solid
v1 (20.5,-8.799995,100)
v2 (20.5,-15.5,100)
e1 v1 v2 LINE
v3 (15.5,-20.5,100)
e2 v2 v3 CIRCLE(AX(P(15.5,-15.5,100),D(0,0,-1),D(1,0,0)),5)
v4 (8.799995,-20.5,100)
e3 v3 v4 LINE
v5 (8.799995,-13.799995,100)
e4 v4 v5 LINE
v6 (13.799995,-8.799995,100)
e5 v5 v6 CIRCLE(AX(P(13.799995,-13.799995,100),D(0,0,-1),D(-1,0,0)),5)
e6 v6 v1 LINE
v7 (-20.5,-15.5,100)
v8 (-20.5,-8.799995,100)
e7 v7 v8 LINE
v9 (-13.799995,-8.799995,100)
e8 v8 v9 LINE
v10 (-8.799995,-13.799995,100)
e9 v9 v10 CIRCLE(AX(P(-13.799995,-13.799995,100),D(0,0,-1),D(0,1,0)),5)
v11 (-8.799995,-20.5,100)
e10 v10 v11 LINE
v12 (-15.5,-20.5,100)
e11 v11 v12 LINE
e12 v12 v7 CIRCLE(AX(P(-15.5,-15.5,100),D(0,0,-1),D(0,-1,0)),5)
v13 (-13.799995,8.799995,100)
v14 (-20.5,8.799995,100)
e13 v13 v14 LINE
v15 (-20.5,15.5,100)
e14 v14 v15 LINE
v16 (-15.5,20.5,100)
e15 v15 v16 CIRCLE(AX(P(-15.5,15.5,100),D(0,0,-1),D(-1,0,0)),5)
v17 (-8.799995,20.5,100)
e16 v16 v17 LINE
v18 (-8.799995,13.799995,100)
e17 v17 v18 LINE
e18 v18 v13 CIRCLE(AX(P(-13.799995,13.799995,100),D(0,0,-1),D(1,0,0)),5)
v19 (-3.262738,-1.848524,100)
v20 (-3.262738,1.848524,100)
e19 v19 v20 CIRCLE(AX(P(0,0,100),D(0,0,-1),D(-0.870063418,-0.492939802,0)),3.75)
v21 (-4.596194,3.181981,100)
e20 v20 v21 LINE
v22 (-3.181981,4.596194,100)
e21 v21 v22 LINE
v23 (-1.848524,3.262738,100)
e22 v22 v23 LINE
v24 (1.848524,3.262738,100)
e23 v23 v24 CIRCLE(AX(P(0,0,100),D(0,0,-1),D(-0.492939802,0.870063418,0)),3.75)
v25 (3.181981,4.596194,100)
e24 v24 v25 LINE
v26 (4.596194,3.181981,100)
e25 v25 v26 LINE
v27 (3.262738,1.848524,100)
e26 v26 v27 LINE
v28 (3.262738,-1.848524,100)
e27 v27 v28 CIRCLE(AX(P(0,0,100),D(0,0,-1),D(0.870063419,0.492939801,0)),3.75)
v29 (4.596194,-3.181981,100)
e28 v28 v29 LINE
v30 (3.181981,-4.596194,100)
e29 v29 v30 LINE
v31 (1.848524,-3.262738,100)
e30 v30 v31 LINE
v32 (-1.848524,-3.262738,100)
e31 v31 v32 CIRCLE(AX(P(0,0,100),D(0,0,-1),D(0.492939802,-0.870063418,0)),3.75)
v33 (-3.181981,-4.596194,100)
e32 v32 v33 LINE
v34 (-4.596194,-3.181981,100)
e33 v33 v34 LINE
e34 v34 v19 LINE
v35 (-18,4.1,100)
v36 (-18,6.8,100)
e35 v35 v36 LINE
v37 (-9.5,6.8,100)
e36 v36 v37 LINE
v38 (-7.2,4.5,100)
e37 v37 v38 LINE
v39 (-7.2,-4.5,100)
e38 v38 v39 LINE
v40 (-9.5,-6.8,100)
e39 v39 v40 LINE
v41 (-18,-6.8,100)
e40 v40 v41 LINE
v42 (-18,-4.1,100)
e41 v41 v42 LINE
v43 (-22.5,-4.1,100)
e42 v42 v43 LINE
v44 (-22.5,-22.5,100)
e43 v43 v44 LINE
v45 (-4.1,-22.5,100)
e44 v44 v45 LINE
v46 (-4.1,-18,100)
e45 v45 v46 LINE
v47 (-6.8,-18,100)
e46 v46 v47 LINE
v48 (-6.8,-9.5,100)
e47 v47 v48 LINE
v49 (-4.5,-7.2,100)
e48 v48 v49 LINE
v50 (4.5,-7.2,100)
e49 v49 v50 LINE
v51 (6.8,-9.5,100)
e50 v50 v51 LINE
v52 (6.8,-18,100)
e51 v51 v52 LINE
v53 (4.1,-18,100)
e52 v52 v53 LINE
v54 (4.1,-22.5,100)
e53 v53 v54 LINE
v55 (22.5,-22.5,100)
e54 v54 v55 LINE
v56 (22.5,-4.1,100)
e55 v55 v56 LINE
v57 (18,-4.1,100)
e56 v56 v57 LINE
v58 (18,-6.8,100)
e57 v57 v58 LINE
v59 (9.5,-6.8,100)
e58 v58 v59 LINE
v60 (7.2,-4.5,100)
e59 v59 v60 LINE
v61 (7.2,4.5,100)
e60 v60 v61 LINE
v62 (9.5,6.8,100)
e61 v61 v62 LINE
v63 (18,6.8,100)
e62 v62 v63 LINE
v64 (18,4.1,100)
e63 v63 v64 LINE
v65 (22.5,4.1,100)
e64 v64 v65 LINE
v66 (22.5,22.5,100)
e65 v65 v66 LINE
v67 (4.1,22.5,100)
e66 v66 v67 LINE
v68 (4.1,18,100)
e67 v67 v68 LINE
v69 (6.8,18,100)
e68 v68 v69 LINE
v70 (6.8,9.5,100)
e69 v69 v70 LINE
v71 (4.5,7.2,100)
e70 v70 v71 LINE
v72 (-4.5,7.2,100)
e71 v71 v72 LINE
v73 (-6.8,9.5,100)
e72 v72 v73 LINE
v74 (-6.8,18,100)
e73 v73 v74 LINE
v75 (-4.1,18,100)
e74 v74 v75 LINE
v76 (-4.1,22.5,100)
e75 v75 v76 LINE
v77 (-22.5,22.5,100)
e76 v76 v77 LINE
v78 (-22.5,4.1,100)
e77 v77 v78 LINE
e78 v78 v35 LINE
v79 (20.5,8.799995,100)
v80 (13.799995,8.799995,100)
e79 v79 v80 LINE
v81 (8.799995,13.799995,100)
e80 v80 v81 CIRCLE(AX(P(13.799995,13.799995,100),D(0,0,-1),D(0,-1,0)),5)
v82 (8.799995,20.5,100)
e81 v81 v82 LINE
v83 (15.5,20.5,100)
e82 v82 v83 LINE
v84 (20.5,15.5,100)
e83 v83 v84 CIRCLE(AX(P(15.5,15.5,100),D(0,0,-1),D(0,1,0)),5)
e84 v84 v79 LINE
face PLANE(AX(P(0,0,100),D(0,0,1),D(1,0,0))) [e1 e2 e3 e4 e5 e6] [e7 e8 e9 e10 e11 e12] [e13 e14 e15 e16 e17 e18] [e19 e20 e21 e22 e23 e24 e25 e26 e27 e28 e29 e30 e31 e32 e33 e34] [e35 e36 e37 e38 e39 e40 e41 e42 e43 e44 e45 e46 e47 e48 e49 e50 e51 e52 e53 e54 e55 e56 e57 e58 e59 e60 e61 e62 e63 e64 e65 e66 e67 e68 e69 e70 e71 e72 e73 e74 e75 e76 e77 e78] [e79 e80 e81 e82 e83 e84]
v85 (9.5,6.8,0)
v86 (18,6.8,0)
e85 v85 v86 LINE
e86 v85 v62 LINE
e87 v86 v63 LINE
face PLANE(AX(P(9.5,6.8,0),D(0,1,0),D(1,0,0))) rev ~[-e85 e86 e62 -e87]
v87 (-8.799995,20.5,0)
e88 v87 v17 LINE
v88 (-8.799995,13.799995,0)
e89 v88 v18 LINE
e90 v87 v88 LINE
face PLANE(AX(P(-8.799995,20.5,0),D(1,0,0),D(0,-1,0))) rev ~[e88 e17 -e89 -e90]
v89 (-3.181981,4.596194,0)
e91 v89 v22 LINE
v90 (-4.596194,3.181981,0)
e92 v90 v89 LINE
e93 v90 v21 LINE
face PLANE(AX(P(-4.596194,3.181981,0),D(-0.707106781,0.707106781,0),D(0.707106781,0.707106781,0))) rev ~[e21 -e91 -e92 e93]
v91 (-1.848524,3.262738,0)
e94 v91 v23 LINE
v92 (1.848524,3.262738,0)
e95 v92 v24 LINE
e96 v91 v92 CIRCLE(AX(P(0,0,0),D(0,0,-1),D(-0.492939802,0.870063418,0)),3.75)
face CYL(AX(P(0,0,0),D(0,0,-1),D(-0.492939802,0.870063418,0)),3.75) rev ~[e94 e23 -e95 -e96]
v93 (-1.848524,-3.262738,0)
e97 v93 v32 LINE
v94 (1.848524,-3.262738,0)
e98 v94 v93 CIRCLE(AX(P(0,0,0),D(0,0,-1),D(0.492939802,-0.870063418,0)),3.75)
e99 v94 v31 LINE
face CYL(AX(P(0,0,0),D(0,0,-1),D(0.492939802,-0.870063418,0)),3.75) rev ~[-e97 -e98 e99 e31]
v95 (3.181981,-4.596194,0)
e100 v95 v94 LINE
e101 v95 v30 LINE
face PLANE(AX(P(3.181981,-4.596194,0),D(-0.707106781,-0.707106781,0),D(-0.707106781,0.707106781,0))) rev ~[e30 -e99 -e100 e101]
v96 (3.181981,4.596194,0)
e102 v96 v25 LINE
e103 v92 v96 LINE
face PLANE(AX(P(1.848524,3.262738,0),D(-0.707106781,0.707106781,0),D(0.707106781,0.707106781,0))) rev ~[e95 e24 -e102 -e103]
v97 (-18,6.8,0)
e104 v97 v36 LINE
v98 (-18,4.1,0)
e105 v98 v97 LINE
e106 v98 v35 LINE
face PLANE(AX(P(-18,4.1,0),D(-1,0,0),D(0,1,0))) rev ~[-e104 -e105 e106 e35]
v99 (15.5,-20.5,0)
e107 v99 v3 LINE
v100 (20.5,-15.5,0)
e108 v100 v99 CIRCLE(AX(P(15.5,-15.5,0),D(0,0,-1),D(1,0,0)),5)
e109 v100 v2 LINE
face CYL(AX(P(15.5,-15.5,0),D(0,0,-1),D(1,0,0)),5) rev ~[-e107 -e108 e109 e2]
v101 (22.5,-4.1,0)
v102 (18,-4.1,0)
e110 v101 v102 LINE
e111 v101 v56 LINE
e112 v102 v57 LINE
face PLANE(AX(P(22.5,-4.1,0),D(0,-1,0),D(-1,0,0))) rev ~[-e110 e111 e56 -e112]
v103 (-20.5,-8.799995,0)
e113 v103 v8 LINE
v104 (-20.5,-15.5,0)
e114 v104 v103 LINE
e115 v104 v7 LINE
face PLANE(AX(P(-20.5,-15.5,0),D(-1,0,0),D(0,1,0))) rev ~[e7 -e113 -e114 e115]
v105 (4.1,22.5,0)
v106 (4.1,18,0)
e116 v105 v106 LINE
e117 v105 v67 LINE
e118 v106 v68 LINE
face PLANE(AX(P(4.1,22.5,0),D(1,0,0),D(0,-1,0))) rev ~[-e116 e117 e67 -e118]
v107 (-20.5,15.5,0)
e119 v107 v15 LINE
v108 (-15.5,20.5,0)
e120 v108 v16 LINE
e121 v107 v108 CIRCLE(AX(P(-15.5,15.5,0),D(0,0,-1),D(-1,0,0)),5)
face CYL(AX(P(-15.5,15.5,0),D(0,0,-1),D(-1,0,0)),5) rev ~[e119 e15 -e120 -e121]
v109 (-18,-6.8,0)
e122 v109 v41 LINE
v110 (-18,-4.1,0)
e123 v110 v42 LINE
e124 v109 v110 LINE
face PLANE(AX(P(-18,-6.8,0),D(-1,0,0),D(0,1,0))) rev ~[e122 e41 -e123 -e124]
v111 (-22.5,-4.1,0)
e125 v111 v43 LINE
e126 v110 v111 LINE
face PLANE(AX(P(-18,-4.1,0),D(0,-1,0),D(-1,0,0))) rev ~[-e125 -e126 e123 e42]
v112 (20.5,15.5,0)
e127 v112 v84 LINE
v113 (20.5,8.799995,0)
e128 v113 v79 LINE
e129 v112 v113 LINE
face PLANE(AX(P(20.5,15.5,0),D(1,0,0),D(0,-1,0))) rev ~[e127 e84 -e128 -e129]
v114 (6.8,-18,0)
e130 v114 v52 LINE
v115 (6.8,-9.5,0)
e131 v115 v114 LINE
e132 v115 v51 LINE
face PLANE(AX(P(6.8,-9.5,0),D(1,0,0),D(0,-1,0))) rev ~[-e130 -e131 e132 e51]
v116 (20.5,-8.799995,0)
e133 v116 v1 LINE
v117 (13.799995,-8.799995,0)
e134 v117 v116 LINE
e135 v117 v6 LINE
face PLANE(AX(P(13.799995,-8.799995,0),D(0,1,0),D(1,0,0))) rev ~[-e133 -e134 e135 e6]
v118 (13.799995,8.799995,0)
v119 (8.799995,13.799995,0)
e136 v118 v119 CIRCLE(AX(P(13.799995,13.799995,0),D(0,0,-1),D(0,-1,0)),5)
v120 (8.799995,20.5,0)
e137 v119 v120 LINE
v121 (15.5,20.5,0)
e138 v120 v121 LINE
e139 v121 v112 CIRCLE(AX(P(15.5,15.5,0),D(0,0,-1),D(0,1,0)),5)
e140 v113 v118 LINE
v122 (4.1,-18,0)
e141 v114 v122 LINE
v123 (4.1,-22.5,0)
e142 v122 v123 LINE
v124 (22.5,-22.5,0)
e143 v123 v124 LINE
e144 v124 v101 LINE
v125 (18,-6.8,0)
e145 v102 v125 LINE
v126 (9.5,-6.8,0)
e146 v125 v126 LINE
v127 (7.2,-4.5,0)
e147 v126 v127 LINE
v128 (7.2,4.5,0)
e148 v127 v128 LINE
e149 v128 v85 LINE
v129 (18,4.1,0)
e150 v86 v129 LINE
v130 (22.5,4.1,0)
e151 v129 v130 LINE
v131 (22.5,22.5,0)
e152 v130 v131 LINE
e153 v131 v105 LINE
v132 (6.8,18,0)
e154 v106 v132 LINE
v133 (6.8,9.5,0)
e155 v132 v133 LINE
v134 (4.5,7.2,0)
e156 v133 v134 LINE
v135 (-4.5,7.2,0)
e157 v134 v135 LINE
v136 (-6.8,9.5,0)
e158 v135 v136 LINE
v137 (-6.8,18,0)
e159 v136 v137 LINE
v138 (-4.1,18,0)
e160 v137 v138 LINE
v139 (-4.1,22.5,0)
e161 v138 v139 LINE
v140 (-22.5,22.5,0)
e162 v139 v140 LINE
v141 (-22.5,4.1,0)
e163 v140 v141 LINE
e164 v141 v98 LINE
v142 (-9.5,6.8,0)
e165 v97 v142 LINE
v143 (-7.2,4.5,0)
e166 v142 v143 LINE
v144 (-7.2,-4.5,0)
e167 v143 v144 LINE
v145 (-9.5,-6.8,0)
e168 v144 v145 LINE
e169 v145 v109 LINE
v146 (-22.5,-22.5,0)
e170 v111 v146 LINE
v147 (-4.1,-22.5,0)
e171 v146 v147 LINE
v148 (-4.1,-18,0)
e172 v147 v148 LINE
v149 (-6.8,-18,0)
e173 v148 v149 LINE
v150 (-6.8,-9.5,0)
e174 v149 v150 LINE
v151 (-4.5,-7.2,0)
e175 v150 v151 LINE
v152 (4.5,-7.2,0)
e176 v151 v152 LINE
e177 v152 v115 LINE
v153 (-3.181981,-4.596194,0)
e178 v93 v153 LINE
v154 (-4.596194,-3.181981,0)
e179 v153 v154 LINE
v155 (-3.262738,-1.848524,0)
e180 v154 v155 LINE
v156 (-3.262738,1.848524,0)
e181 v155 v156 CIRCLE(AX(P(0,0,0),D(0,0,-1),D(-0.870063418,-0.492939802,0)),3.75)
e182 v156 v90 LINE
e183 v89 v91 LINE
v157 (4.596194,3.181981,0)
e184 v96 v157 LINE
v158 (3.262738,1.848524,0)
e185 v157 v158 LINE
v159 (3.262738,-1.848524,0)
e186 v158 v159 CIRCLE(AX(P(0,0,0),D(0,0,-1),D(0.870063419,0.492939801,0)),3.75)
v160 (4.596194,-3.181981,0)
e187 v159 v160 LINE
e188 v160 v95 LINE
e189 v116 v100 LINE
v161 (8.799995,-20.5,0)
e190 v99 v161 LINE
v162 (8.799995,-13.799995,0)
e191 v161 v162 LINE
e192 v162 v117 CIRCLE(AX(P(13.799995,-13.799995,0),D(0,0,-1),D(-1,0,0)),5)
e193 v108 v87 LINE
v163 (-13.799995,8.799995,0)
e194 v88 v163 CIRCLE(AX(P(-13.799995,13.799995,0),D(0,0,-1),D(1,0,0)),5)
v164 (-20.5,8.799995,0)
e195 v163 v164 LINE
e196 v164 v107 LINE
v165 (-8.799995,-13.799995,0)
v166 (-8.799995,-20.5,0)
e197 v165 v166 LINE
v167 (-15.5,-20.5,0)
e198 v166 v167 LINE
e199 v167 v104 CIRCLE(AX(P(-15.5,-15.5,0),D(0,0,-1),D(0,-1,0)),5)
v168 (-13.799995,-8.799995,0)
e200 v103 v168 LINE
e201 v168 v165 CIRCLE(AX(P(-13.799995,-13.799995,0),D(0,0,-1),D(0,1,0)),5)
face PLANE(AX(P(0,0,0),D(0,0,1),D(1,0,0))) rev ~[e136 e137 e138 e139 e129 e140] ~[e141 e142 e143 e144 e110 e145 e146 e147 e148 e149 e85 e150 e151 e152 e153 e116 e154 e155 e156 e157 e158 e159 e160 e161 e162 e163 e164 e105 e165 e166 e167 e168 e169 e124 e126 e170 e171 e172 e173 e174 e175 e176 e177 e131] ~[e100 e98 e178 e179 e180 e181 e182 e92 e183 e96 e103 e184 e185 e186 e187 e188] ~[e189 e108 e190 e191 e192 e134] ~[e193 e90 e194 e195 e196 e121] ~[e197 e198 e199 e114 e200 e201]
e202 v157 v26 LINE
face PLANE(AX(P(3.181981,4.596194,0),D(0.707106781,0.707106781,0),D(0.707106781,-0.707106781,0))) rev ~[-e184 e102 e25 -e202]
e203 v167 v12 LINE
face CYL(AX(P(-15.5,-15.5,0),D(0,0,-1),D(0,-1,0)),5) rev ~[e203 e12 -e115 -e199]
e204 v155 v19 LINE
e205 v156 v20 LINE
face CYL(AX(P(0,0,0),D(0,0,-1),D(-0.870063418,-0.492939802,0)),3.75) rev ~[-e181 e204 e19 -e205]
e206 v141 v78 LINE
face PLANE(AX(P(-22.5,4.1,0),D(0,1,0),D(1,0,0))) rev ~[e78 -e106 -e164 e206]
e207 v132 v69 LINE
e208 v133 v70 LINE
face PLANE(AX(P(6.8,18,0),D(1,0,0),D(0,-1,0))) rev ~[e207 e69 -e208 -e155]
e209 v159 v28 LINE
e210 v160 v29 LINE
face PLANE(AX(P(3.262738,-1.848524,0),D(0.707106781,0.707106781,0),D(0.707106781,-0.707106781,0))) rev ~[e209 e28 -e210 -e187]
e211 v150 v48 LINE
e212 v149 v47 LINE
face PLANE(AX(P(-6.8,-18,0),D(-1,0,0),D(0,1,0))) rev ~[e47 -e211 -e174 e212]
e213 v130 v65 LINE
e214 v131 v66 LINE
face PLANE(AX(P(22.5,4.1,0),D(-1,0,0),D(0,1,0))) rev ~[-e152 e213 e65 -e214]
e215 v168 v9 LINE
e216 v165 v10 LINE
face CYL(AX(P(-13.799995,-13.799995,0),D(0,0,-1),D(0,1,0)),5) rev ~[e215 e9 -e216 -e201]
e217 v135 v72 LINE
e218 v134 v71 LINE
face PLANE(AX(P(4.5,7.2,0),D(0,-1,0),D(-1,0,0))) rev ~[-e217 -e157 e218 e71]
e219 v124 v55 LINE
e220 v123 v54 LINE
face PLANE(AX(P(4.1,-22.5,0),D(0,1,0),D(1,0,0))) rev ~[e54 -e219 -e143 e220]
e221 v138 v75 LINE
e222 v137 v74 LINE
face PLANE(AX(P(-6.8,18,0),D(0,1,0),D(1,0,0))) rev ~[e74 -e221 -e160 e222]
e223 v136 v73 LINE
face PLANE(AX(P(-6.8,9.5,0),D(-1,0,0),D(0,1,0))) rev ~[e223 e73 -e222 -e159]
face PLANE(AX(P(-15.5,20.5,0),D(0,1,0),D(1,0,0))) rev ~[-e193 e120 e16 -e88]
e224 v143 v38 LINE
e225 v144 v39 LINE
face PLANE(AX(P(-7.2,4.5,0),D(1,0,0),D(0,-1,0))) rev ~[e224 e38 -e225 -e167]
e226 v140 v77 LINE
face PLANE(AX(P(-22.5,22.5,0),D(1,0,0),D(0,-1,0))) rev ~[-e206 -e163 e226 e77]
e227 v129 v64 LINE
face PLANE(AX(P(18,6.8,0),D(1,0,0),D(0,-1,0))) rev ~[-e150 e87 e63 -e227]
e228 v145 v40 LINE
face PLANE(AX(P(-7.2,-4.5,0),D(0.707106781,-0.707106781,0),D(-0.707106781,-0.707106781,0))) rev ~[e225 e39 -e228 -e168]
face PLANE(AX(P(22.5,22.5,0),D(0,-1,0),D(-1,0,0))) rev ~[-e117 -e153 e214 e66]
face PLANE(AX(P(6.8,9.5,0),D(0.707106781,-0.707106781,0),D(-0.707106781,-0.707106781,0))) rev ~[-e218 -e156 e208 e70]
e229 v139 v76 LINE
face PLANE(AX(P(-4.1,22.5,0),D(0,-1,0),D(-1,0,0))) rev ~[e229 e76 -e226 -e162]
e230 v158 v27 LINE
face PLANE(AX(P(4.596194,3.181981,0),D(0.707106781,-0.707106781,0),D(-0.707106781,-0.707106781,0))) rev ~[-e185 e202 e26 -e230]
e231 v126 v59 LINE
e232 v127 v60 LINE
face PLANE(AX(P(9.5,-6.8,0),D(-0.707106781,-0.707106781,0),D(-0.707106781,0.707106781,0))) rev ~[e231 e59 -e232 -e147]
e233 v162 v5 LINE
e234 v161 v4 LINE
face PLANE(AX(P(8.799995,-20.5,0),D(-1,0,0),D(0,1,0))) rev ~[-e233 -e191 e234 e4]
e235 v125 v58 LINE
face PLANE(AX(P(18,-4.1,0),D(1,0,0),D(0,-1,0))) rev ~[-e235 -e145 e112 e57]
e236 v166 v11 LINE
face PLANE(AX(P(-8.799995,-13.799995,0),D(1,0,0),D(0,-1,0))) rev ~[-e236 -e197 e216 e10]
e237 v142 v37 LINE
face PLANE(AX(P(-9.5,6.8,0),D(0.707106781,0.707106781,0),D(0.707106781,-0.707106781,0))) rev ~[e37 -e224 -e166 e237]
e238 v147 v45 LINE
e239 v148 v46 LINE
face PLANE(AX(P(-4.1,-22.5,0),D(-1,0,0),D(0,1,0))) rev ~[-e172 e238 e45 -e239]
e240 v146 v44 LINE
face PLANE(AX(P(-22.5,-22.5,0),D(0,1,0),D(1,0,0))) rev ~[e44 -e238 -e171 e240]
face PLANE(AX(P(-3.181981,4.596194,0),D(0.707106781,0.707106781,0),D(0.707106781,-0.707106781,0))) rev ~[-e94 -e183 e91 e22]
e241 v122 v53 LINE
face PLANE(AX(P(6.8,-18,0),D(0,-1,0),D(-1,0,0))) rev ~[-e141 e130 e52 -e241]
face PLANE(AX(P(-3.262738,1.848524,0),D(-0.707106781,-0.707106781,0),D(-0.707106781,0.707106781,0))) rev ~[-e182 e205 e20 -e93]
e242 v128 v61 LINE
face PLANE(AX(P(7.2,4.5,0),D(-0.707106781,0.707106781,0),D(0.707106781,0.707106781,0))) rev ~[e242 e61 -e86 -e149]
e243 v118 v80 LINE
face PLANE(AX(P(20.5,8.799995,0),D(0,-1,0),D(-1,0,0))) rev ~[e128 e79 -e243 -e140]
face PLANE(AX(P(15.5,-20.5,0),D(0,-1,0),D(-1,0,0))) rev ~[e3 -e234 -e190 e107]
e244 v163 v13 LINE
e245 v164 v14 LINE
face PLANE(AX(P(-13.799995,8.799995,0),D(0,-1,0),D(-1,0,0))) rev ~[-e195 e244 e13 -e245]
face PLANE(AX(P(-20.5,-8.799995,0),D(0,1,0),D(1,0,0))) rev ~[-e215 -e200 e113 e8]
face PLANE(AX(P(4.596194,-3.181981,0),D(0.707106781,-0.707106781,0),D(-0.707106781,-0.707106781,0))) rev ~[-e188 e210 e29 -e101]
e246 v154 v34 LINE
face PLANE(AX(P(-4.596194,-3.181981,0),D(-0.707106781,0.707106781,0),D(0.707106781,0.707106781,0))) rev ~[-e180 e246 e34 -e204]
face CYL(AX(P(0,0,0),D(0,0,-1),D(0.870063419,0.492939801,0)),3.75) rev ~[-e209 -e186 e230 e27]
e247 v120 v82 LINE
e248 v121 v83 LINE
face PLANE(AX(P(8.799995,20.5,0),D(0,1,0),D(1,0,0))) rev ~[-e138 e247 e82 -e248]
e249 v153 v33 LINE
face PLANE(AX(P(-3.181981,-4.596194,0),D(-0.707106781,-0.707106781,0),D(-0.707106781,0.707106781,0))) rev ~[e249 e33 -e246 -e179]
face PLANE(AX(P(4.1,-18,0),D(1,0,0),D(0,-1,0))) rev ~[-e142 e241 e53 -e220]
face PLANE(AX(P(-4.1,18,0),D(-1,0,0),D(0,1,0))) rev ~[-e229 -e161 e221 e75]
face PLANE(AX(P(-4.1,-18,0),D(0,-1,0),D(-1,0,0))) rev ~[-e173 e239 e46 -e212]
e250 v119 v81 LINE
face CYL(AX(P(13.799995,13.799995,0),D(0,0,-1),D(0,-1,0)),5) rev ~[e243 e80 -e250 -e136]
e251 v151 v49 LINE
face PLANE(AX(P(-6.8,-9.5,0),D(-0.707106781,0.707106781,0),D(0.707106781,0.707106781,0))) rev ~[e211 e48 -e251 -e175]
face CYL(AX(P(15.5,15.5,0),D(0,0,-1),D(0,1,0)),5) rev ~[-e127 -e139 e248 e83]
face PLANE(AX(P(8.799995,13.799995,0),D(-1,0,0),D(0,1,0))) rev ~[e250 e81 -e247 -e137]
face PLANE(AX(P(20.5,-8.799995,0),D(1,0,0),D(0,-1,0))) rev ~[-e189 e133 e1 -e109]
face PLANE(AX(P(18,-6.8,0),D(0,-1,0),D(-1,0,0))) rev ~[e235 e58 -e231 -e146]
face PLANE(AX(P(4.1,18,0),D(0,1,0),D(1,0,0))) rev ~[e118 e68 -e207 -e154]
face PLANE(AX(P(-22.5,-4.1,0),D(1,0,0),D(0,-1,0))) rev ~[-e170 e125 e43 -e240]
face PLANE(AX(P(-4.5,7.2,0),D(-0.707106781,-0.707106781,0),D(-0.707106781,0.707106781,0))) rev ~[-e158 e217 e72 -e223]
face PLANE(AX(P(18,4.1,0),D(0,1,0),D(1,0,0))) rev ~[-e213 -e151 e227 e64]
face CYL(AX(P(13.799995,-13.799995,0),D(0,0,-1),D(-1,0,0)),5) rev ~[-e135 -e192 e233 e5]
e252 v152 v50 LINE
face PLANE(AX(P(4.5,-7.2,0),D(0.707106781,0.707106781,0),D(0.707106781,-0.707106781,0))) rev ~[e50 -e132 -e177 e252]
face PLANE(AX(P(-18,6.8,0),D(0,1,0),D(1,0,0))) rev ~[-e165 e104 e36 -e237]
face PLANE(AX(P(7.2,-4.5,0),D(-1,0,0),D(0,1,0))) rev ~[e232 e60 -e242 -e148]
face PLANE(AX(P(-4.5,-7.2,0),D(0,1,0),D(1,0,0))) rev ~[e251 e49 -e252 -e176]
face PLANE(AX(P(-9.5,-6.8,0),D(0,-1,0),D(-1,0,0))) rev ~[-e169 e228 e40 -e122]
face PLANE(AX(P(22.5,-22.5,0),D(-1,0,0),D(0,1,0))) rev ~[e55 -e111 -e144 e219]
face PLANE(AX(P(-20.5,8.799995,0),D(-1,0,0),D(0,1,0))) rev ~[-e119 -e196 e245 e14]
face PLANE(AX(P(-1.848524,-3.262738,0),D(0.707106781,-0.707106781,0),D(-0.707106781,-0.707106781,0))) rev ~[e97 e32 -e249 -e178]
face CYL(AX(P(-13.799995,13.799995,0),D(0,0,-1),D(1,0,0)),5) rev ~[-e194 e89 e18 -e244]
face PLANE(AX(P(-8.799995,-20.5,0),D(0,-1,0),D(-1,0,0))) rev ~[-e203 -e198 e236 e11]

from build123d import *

# Parameters (mm, degrees)
BOSS_EXTRUDE1_DEPTH = 100


with BuildPart() as part:
    # Sketch1 → Boss-Extrude1 (new body)
    with BuildSketch(Plane.XY):
        Polygon((-17.999999991, -6.799999991), (-17.999999991, -4.099999991), (-22.499999991, -4.099999991), (-22.499999991, -22.499999991), (-4.099999991, -22.499999991), (-4.099999991, -17.999999991), (-6.799999991, -17.999999991), (-6.799999991, -9.499999991), (-4.499999991, -7.199999991), (4.500000009, -7.199999991), (6.800000009, -9.499999991), (6.800000009, -17.999999991), (4.100000009, -17.999999991), (4.100000009, -22.499999991), (22.500000009, -22.499999991), (22.500000009, -4.099999991), (18.000000009, -4.099999991), (18.000000009, -6.799999991), (9.500000009, -6.799999991), (7.200000009, -4.499999991), (7.200000009, 4.500000009), (9.500000009, 6.800000009), (18.000000009, 6.800000009), (18.000000009, 4.100000009), (22.500000009, 4.100000009), (22.500000009, 22.500000009), (4.100000009, 22.500000009), (4.100000009, 18.000000009), (6.800000009, 18.000000009), (6.800000009, 9.500000009), (4.500000009, 7.200000009), (-4.499999991, 7.200000009), (-6.799999991, 9.500000009), (-6.799999991, 18.000000009), (-4.099999991, 18.000000009), (-4.099999991, 22.500000009), (-22.499999991, 22.500000009), (-22.499999991, 4.100000009), (-17.999999991, 4.100000009), (-17.999999991, 6.800000009), (-9.499999991, 6.800000009), (-7.199999991, 4.500000009), (-7.199999991, -4.499999991), (-9.499999991, -6.799999991), align=None)
        with BuildLine():
            Line((-20.499999973, 8.799995438), (-20.499999973, 15.500000009))
            ThreePointArc((-20.499999973, 15.500000009), (-19.035533879, 19.035533915), (-15.499999973, 20.500000009))
            Line((-15.499999973, 20.500000009), (-8.799995402, 20.500000009))
            Line((-8.799995402, 20.500000009), (-8.799995402, 13.799995438))
            ThreePointArc((-8.799995402, 13.799995438), (-10.264461496, 10.264461532), (-13.799995402, 8.799995438))
            Line((-13.799995402, 8.799995438), (-20.499999973, 8.799995438))
        make_face(mode=Mode.SUBTRACT)
        with BuildLine():
            Line((20.500000009, 8.79999542), (13.799995438, 8.79999542))
            ThreePointArc((13.799995438, 8.79999542), (10.264461532, 10.264461514), (8.799995438, 13.79999542))
            Line((8.799995438, 13.79999542), (8.799995438, 20.499999991))
            Line((8.799995438, 20.499999991), (15.500000009, 20.499999991))
            ThreePointArc((15.500000009, 20.499999991), (19.035533915, 19.035533897), (20.500000009, 15.499999991))
            Line((20.500000009, 15.499999991), (20.500000009, 8.79999542))
        make_face(mode=Mode.SUBTRACT)
        with BuildLine():
            Line((15.499999991, -20.499999991), (8.79999542, -20.499999991))
            Line((8.79999542, -20.499999991), (8.79999542, -13.79999542))
            ThreePointArc((8.79999542, -13.79999542), (10.264461514, -10.264461514), (13.79999542, -8.79999542))
            Line((13.79999542, -8.79999542), (20.499999991, -8.79999542))
            Line((20.499999991, -8.79999542), (20.499999991, -15.499999991))
            ThreePointArc((20.499999991, -15.499999991), (19.035533897, -19.035533897), (15.499999991, -20.499999991))
        make_face(mode=Mode.SUBTRACT)
        with BuildLine():
            Line((-8.79999542, -20.499999973), (-15.499999991, -20.499999973))
            ThreePointArc((-15.499999991, -20.499999973), (-19.035533897, -19.035533879), (-20.499999991, -15.499999973))
            Line((-20.499999991, -15.499999973), (-20.499999991, -8.799995402))
            Line((-20.499999991, -8.799995402), (-13.79999542, -8.799995402))
            ThreePointArc((-13.79999542, -8.799995402), (-10.264461514, -10.264461496), (-8.79999542, -13.799995402))
            Line((-8.79999542, -13.799995402), (-8.79999542, -20.499999973))
        make_face(mode=Mode.SUBTRACT)
        with BuildLine():
            Line((-3.262737816, 1.848524254), (-4.596194076, 3.181980514))
            Line((-4.596194076, 3.181980514), (-3.181980513, 4.596194076))
            Line((-3.181980513, 4.596194076), (-1.848524253, 3.262737816))
            ThreePointArc((-1.848524253, 3.262737816), (2e-09, 3.749999997), (1.848524257, 3.262737816))
            Line((1.848524257, 3.262737816), (3.181980517, 4.596194076))
            Line((3.181980517, 4.596194076), (4.59619408, 3.181980513))
            Line((4.59619408, 3.181980513), (3.26273782, 1.848524253))
            ThreePointArc((3.26273782, 1.848524253), (3.75, -2e-09), (3.262737819, -1.848524257))
            Line((3.262737819, -1.848524257), (4.596194079, -3.181980517))
            Line((4.596194079, -3.181980517), (3.181980517, -4.596194079))
            Line((3.181980517, -4.596194079), (1.848524257, -3.262737819))
            ThreePointArc((1.848524257, -3.262737819), (2e-09, -3.75), (-1.848524253, -3.262737819))
            Line((-1.848524253, -3.262737819), (-3.181980515, -4.596194081))
            Line((-3.181980515, -4.596194081), (-4.596194078, -3.181980518))
            Line((-4.596194078, -3.181980518), (-3.262737816, -1.848524257))
            ThreePointArc((-3.262737816, -1.848524257), (-3.749999997, -2e-09), (-3.262737816, 1.848524254))
        make_face(mode=Mode.SUBTRACT)
    extrude(amount=BOSS_EXTRUDE1_DEPTH)


solid = part.part
